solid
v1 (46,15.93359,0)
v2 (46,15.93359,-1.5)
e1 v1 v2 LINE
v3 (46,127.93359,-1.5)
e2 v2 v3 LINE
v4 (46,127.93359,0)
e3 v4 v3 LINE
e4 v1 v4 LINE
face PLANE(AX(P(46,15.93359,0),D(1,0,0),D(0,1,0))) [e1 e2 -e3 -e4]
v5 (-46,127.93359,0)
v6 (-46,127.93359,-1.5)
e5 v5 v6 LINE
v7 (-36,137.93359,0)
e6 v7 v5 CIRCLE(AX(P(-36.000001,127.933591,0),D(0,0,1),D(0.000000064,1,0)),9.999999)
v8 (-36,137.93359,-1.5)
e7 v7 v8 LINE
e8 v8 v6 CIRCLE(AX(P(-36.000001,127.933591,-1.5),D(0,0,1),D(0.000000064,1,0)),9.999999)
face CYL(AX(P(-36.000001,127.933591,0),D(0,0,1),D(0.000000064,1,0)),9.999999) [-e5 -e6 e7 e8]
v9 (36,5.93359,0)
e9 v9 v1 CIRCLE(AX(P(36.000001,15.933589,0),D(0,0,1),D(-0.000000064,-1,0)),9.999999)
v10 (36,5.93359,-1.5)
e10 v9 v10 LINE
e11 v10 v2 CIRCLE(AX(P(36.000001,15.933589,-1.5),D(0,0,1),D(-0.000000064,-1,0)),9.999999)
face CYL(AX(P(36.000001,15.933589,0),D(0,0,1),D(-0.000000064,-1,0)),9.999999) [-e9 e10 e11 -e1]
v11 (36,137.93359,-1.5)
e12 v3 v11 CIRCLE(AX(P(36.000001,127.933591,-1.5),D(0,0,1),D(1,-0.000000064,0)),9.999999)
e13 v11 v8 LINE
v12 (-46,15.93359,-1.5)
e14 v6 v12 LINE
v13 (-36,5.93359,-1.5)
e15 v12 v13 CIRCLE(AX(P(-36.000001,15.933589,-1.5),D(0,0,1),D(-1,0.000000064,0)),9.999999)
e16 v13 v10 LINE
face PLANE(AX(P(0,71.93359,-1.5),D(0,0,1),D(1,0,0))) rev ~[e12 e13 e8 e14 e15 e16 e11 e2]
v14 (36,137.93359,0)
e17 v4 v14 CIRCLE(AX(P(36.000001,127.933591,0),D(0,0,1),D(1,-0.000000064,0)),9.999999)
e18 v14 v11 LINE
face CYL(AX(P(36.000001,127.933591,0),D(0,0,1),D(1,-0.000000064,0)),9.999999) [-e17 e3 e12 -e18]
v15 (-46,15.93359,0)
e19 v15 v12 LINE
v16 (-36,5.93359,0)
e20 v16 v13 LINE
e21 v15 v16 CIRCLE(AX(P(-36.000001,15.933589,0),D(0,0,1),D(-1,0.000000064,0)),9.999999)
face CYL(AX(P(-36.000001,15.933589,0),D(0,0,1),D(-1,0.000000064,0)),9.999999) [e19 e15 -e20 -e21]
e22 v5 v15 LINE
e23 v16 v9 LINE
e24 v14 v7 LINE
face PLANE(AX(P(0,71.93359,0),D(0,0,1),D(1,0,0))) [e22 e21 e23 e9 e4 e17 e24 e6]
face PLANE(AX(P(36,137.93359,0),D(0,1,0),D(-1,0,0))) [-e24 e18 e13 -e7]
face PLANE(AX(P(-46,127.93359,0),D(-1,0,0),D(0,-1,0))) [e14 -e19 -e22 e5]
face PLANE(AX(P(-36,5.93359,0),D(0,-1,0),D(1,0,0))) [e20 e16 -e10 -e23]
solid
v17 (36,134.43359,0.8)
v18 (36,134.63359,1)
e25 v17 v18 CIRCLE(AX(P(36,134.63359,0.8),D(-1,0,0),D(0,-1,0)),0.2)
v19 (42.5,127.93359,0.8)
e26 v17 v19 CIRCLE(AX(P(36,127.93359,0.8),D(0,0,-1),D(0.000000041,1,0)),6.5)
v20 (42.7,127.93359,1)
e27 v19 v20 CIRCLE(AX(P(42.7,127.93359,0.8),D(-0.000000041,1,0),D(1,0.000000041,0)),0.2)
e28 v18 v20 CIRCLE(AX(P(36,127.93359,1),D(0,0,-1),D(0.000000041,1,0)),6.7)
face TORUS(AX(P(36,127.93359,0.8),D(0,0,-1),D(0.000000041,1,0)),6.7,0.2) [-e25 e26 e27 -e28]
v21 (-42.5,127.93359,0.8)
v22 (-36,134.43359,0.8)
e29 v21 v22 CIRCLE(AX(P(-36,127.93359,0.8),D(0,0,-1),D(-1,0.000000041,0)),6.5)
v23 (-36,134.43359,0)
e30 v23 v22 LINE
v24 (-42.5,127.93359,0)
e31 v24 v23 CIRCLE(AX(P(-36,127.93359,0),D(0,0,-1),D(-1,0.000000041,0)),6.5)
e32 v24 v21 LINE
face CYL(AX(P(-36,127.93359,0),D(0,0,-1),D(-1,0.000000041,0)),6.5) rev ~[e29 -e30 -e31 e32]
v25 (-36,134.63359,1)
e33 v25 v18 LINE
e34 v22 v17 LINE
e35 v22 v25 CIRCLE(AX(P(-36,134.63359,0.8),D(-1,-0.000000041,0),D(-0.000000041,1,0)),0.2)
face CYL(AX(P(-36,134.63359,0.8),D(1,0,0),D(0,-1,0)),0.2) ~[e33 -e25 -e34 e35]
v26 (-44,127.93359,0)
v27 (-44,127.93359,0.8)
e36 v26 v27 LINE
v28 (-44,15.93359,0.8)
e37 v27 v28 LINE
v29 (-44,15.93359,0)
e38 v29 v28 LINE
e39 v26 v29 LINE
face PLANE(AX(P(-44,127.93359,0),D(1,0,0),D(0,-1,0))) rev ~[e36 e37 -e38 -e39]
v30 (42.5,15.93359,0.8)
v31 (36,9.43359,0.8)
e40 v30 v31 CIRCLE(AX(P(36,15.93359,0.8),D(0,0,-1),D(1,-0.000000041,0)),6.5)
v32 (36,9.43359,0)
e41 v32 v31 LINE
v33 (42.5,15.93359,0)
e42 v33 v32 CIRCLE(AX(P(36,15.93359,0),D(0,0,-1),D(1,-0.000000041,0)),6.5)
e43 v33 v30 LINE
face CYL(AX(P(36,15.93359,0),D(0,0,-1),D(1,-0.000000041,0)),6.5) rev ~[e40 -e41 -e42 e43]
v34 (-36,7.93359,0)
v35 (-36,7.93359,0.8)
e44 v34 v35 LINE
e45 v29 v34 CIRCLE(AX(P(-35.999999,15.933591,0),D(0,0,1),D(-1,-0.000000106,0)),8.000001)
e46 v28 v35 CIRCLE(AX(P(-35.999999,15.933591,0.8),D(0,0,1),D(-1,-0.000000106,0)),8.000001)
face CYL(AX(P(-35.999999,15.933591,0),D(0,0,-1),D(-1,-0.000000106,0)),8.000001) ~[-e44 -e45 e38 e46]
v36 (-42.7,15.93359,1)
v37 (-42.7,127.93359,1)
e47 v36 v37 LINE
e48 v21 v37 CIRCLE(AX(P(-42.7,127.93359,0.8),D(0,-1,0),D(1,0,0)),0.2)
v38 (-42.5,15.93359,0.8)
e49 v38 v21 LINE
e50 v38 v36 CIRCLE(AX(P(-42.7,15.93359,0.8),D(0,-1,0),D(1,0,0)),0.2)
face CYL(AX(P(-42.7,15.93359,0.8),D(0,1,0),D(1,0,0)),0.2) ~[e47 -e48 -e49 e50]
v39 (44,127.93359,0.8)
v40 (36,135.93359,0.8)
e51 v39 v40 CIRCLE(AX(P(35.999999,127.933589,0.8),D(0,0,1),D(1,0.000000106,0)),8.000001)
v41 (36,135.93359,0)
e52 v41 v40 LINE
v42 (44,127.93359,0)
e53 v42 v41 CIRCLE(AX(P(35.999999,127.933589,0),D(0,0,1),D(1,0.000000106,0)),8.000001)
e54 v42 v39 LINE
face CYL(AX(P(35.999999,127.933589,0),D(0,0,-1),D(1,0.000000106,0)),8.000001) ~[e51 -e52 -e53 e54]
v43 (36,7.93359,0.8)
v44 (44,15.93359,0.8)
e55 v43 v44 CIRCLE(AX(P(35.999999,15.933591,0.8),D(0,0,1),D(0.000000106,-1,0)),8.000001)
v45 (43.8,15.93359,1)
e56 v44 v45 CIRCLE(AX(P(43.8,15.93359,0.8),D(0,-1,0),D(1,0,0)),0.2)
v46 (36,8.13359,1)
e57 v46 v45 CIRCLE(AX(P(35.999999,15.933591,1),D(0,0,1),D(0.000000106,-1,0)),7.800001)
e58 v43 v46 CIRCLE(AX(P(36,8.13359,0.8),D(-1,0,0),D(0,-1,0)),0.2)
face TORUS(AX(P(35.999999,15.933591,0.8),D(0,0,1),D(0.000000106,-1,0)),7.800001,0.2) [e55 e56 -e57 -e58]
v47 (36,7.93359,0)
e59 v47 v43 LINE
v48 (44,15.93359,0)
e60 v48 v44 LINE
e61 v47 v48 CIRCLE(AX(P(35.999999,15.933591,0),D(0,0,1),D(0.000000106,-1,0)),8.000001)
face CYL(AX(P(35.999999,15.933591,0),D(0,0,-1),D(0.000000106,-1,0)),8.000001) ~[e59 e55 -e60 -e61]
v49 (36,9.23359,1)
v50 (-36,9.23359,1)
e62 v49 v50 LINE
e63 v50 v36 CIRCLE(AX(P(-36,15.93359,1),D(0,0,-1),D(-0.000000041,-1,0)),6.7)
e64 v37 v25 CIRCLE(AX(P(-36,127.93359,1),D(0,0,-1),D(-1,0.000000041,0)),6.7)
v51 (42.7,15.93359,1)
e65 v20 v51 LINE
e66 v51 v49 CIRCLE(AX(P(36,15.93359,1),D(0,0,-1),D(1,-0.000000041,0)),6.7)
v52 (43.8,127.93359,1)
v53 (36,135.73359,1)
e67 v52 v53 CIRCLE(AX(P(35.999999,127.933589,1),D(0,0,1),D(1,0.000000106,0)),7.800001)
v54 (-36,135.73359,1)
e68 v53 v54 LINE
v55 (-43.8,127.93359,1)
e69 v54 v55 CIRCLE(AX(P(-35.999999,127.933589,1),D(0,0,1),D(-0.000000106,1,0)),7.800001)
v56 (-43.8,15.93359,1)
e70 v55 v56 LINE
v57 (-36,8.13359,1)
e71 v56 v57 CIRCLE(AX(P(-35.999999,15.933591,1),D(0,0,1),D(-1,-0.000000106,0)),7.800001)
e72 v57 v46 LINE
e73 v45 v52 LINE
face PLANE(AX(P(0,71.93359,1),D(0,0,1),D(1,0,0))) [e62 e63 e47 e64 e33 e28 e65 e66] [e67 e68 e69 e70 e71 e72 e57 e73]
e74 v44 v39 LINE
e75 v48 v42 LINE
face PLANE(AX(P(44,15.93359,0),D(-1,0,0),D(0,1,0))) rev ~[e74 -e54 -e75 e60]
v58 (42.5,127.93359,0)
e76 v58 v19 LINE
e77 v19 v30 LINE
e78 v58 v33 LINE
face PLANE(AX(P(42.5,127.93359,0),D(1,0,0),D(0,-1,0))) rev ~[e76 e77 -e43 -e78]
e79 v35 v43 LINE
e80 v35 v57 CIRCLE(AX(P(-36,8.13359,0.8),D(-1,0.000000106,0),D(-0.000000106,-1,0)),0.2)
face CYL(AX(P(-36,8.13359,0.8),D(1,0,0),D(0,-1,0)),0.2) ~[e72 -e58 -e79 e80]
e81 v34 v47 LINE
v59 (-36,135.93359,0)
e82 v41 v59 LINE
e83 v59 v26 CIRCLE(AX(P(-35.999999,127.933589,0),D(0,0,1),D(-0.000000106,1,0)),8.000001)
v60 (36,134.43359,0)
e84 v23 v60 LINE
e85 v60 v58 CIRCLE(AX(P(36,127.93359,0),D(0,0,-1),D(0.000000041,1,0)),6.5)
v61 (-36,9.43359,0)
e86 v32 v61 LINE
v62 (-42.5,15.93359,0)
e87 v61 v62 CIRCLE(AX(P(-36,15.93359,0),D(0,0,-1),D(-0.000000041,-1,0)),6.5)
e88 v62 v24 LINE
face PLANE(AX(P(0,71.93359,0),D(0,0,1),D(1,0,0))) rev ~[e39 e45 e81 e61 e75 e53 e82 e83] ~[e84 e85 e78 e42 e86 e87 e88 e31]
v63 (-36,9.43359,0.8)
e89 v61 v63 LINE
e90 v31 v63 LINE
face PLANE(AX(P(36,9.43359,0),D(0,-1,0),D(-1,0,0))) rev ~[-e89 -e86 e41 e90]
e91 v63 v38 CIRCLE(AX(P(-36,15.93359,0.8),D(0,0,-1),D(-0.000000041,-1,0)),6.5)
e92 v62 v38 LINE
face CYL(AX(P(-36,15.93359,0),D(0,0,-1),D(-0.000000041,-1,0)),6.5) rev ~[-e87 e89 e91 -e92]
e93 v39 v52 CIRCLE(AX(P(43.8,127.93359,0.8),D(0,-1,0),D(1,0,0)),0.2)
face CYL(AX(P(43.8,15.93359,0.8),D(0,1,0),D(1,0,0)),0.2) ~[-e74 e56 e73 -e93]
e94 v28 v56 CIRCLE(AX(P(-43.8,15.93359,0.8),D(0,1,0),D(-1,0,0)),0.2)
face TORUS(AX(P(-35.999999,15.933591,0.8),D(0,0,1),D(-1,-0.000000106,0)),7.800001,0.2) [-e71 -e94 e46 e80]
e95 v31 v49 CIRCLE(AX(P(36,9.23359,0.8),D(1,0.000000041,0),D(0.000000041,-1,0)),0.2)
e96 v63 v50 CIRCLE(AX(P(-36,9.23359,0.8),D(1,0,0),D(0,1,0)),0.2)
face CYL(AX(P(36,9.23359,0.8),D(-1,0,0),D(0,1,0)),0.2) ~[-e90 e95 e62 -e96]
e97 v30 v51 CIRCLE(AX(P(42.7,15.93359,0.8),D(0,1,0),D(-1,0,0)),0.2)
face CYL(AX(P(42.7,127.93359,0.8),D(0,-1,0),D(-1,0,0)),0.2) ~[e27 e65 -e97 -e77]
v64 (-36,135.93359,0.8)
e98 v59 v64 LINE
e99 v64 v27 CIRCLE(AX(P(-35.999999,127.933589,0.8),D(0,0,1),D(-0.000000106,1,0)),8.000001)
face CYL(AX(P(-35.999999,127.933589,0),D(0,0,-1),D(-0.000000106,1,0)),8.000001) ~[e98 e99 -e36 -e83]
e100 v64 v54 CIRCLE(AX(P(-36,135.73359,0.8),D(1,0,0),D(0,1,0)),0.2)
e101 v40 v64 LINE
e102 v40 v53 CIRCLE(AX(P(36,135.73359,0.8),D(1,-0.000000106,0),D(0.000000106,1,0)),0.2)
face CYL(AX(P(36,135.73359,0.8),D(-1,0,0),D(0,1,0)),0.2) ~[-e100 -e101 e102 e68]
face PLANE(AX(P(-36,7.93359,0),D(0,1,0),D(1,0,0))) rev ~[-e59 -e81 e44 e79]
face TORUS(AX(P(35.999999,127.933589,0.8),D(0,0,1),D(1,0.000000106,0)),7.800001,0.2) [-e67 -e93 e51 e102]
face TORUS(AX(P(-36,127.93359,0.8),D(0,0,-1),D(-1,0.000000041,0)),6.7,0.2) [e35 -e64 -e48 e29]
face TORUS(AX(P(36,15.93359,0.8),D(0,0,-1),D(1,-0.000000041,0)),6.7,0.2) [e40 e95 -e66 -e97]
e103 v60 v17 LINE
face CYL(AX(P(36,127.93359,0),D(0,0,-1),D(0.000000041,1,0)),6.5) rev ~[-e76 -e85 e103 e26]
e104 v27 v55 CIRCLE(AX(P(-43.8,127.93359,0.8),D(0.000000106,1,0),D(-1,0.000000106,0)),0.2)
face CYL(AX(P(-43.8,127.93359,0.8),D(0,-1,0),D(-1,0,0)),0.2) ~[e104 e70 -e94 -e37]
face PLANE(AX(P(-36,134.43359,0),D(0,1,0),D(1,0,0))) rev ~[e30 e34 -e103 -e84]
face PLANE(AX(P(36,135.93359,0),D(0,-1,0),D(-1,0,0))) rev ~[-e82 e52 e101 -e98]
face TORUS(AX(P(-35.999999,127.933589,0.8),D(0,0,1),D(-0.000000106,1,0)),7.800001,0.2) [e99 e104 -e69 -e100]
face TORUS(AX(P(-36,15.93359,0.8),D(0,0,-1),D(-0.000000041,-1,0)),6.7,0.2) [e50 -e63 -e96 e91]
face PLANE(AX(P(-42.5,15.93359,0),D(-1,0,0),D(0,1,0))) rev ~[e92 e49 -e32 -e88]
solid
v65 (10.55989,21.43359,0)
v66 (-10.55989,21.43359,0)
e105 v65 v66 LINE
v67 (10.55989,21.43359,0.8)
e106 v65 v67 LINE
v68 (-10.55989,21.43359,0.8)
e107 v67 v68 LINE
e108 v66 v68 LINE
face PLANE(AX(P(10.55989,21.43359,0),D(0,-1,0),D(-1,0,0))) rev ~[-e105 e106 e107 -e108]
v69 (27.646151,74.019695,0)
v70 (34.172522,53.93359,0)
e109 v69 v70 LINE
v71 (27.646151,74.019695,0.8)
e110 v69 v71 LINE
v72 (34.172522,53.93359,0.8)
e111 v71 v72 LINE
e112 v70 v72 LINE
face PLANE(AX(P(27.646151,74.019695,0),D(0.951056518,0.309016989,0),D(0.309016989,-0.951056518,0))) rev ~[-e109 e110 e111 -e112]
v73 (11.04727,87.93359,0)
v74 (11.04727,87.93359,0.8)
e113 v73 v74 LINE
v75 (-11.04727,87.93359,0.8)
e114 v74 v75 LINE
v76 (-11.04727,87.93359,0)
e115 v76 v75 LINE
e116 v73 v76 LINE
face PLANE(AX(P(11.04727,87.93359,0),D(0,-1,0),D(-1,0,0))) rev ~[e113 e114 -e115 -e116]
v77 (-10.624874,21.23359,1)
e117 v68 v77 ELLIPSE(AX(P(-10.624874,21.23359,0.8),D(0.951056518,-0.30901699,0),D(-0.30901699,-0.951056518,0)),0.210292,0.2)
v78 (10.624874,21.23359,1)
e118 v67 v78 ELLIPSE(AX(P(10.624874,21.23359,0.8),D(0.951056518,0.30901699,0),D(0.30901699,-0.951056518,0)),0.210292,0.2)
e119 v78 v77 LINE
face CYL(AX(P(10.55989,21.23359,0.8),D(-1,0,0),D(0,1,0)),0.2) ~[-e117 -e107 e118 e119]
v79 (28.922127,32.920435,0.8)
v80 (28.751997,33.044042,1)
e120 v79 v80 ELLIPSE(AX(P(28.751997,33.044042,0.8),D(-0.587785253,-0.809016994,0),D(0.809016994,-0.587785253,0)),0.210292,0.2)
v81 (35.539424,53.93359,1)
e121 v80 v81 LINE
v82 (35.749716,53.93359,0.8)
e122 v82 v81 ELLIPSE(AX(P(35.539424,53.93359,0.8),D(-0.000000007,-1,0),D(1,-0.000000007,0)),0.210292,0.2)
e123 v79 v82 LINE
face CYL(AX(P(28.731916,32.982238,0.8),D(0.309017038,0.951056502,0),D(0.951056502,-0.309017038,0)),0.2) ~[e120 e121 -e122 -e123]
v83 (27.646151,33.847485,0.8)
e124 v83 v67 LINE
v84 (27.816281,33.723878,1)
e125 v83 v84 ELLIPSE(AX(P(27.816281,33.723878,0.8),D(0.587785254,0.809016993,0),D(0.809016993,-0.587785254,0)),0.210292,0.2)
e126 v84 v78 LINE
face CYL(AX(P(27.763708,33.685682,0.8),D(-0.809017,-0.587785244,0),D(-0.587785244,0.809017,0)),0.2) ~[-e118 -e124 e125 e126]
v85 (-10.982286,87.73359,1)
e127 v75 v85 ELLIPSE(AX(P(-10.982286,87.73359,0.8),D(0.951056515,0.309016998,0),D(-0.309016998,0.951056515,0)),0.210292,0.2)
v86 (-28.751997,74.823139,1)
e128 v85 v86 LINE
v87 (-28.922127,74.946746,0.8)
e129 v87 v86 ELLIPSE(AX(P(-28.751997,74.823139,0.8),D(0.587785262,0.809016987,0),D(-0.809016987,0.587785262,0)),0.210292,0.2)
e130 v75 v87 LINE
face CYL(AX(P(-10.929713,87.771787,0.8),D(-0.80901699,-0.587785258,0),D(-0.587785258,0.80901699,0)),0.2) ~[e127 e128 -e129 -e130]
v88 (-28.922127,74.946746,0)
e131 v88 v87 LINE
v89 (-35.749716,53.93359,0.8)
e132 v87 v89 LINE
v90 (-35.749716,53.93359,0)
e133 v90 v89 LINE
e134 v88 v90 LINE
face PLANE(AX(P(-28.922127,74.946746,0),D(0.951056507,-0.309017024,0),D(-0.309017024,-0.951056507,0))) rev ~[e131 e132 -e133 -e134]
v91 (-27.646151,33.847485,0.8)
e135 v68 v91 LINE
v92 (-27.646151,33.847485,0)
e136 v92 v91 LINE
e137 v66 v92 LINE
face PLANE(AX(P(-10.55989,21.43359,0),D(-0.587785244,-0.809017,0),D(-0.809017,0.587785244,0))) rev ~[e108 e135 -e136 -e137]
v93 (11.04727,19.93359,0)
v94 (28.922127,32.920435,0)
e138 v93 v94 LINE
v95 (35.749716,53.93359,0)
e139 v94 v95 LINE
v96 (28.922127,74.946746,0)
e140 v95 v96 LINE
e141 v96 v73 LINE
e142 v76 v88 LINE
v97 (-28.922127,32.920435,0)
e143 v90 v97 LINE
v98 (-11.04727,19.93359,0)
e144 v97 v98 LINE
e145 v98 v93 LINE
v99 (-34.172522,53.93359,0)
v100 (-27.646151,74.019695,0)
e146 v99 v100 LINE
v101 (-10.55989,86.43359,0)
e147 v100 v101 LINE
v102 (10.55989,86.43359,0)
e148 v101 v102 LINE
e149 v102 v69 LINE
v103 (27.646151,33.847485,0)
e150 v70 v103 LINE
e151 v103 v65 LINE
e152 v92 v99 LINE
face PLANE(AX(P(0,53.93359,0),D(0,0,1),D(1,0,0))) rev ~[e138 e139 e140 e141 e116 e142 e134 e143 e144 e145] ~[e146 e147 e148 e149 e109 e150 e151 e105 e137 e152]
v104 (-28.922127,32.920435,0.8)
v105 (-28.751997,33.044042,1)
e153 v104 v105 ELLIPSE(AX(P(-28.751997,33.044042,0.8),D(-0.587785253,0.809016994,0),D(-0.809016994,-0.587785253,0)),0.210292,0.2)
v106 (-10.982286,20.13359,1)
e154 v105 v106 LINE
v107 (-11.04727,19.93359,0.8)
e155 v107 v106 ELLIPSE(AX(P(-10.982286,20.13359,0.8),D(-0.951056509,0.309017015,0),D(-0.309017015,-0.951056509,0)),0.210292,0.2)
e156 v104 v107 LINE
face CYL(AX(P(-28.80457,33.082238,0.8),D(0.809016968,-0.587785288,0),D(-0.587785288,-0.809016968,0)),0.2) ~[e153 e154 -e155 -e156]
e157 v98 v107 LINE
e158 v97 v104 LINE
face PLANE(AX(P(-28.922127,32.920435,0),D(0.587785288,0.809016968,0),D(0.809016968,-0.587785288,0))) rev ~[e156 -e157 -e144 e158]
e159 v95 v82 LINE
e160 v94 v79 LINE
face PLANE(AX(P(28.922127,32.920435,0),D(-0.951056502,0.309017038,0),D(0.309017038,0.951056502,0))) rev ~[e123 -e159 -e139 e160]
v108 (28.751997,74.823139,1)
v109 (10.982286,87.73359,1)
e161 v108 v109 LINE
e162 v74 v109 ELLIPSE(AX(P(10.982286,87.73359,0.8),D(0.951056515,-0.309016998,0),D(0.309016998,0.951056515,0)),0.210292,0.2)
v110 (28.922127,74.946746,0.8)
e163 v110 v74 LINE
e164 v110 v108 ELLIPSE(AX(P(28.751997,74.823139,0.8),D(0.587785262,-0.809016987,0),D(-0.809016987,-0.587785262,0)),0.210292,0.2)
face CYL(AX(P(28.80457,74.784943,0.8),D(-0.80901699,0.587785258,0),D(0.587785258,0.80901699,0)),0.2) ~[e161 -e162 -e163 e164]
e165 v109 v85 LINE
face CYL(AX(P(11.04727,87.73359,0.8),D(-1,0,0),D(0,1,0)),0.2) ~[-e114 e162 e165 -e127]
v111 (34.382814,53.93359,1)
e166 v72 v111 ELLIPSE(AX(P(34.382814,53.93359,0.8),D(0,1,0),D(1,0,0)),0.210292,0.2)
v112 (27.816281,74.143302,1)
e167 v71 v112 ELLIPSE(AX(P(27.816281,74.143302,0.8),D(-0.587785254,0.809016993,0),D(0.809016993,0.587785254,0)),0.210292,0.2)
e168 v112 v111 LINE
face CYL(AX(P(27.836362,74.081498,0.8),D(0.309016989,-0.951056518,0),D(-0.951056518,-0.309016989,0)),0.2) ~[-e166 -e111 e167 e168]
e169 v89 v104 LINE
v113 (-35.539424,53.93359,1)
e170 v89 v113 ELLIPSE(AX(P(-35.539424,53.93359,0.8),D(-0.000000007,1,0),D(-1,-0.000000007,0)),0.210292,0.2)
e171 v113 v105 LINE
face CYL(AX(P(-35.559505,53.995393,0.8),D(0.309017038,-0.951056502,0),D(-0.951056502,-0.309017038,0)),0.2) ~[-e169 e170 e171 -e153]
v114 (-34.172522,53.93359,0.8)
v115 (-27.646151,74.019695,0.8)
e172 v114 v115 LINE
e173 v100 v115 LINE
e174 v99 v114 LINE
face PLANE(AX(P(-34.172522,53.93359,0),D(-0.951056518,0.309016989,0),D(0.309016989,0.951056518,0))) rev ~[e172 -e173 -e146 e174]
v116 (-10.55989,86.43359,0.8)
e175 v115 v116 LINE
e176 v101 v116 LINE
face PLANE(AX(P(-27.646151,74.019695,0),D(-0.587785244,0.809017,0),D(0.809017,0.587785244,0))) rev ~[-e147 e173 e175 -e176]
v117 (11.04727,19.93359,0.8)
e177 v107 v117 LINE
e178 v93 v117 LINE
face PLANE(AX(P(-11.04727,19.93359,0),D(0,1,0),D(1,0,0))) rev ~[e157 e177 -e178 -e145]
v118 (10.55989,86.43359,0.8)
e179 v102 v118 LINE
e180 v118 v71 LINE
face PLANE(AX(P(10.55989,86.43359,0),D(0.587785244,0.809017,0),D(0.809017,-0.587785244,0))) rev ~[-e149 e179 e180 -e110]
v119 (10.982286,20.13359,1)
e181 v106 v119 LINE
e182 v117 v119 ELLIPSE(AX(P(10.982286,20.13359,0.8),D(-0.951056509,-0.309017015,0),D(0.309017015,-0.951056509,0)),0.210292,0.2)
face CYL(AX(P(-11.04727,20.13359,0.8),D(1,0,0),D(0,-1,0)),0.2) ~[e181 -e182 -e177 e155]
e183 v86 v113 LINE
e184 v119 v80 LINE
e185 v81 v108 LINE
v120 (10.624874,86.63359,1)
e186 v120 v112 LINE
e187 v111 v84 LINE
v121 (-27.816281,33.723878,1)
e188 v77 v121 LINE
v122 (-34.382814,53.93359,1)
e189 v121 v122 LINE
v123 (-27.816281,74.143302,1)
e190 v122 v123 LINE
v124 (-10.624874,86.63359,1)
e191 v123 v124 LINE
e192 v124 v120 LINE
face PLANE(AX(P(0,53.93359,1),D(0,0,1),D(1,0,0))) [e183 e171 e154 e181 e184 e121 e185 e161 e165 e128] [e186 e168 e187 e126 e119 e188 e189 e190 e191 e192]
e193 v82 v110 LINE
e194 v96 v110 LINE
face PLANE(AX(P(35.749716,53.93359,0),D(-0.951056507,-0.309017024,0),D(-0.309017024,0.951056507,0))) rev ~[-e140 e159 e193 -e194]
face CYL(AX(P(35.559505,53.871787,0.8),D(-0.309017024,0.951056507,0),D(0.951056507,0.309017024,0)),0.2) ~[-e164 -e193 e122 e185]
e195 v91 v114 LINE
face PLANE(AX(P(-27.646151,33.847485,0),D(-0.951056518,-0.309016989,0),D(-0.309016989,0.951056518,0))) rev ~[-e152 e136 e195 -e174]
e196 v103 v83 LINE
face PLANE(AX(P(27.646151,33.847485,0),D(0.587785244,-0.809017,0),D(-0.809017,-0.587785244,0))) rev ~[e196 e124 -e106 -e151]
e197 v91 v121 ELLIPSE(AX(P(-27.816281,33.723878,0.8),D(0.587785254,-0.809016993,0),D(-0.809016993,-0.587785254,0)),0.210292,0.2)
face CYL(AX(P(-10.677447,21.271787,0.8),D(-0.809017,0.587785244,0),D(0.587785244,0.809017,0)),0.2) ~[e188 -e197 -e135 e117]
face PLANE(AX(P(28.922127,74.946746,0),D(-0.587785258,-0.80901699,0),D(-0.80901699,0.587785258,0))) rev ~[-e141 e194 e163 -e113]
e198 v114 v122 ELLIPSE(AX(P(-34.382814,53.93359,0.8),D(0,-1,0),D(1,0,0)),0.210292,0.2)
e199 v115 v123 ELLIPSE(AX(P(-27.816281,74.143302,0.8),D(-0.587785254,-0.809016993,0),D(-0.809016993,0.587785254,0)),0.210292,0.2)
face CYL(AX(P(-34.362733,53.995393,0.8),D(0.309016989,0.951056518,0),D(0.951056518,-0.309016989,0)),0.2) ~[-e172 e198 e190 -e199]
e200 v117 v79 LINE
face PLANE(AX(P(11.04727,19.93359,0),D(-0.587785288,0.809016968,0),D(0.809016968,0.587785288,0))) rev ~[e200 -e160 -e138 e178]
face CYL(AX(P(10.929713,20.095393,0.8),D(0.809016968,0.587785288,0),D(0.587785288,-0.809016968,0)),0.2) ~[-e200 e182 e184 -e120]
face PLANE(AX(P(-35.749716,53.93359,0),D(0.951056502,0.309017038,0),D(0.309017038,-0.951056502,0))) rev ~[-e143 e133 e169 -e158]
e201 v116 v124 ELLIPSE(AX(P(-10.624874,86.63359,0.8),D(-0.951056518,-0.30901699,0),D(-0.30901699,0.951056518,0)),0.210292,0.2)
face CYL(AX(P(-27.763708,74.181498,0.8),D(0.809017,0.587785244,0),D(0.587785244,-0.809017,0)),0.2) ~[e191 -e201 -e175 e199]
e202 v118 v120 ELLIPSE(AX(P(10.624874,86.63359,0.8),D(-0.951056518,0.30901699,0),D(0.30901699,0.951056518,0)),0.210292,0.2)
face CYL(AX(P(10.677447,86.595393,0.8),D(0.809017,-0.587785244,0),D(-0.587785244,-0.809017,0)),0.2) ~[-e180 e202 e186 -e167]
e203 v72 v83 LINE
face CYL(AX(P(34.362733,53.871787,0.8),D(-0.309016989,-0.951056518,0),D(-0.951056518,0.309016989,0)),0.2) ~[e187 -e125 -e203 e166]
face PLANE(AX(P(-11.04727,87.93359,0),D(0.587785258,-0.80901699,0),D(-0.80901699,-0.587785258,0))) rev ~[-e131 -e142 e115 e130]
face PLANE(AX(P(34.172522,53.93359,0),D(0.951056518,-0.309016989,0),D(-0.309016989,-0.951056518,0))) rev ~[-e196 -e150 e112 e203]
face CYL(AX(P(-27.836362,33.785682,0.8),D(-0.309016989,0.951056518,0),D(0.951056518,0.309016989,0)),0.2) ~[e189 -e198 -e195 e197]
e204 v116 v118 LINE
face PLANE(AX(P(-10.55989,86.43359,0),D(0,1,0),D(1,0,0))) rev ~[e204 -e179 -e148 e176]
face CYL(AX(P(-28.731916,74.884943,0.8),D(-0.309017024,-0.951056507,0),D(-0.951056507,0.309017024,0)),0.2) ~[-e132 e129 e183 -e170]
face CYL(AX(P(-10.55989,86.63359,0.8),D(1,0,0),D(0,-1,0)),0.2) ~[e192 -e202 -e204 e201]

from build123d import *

# Parameters (mm, degrees)
F3_DEPTH = 1
F4_R     = 0.2
F6_DEPTH = 1.5


with BuildPart() as f3:
    # F1 (on Top) + F2 (on Top) → F3 (new body)
    with BuildSketch(Plane.XY):
        Polygon((-11.04727, 87.93359), (-28.922127, 74.946746), (-35.749716, 53.93359), (-28.922127, 32.920435), (-11.04727, 19.93359), (11.04727, 19.93359), (28.922127, 32.920435), (35.749716, 53.93359), (28.922127, 74.946746), (11.04727, 87.93359), align=None)
        Polygon((-10.55989, 86.43359), (10.55989, 86.43359), (27.646151, 74.019695), (34.172522, 53.93359), (27.646151, 33.847485), (10.55989, 21.43359), (-10.55989, 21.43359), (-27.646151, 33.847485), (-34.172522, 53.93359), (-27.646151, 74.019695), align=None, mode=Mode.SUBTRACT)
    with BuildSketch(Plane.XY):
        with BuildLine():
            Line((36, 135.93359), (-36, 135.93359))
            ThreePointArc((-36, 135.93359), (-41.656854, 133.590444), (-44, 127.93359))
            Line((-44, 127.93359), (-44, 15.93359))
            ThreePointArc((-44, 15.93359), (-41.656854, 10.276736), (-36, 7.93359))
            Line((-36, 7.93359), (36, 7.93359))
            ThreePointArc((36, 7.93359), (41.656854, 10.276736), (44, 15.93359))
            Line((44, 15.93359), (44, 127.93359))
            ThreePointArc((44, 127.93359), (41.656854, 133.590444), (36, 135.93359))
        make_face()
        with BuildLine():
            ThreePointArc((-42.5, 127.93359), (-40.596194, 132.529784), (-36, 134.43359))
            Line((-36, 134.43359), (36, 134.43359))
            ThreePointArc((36, 134.43359), (40.596194, 132.529784), (42.5, 127.93359))
            Line((42.5, 127.93359), (42.5, 15.93359))
            ThreePointArc((42.5, 15.93359), (40.596194, 11.337396), (36, 9.43359))
            Line((36, 9.43359), (-36, 9.43359))
            ThreePointArc((-36, 9.43359), (-40.596194, 11.337396), (-42.5, 15.93359))
            Line((-42.5, 15.93359), (-42.5, 127.93359))
        make_face(mode=Mode.SUBTRACT)
    extrude(amount=F3_DEPTH)

    # F4
    f4_edges = [f3.edges().sort_by_distance(p)[0] for p in [
        (44, 71.93359, 1),
        (41.656854, 133.590444, 1),
        (0, 135.93359, 1),
        (-41.656854, 133.590444, 1),
        (-44, 71.93359, 1),
        (-41.656854, 10.276736, 1),
        (0, 7.93359, 1),
        (41.656854, 10.276736, 1),
        (-42.5, 71.93359, 1),
        (-40.596194, 132.529784, 1),
        (0, 134.43359, 1),
        (40.596194, 132.529784, 1),
        (42.5, 71.93359, 1),
        (40.596194, 11.337396, 1),
        (0, 9.43359, 1),
        (-40.596194, 11.337396, 1),
        (19.984699, 81.440168, 1),
        (0, 87.93359, 1),
        (-19.984699, 81.440168, 1),
        (-32.335922, 64.440168, 1),
        (-32.335922, 43.427012, 1),
        (-19.984699, 26.427012, 1),
        (0, 19.93359, 1),
        (19.984699, 26.427012, 1),
        (32.335922, 43.427012, 1),
        (32.335922, 64.440168, 1),
        (-30.909337, 63.976642, 1),
        (-19.103021, 80.226642, 1),
        (0, 86.43359, 1),
        (19.103021, 80.226642, 1),
        (30.909337, 63.976642, 1),
        (30.909337, 43.890538, 1),
        (19.103021, 27.640538, 1),
        (0, 21.43359, 1),
        (-19.103021, 27.640538, 1),
        (-30.909337, 43.890538, 1),
    ]]
    fillet(f4_edges, radius=F4_R)


with BuildPart() as f6:
    # F0 (on Top) → F6 (new body)
    with BuildSketch(Plane.XY):
        with BuildLine():
            Line((36, 137.93359), (-36, 137.93359))
            ThreePointArc((-36, 137.93359), (-43.071068, 135.004658), (-46, 127.93359))
            Line((-46, 127.93359), (-46, 71.93359))
            Line((-46, 71.93359), (-46, 15.93359))
            ThreePointArc((-46, 15.93359), (-43.071068, 8.862522), (-36, 5.93359))
            Line((-36, 5.93359), (36, 5.93359))
            ThreePointArc((36, 5.93359), (43.071068, 8.862522), (46, 15.93359))
            Line((46, 15.93359), (46, 127.93359))
            ThreePointArc((46, 127.93359), (43.071068, 135.004658), (36, 137.93359))
        make_face()
    extrude(amount=-F6_DEPTH)


solid = Compound([f3.part, f6.part])
